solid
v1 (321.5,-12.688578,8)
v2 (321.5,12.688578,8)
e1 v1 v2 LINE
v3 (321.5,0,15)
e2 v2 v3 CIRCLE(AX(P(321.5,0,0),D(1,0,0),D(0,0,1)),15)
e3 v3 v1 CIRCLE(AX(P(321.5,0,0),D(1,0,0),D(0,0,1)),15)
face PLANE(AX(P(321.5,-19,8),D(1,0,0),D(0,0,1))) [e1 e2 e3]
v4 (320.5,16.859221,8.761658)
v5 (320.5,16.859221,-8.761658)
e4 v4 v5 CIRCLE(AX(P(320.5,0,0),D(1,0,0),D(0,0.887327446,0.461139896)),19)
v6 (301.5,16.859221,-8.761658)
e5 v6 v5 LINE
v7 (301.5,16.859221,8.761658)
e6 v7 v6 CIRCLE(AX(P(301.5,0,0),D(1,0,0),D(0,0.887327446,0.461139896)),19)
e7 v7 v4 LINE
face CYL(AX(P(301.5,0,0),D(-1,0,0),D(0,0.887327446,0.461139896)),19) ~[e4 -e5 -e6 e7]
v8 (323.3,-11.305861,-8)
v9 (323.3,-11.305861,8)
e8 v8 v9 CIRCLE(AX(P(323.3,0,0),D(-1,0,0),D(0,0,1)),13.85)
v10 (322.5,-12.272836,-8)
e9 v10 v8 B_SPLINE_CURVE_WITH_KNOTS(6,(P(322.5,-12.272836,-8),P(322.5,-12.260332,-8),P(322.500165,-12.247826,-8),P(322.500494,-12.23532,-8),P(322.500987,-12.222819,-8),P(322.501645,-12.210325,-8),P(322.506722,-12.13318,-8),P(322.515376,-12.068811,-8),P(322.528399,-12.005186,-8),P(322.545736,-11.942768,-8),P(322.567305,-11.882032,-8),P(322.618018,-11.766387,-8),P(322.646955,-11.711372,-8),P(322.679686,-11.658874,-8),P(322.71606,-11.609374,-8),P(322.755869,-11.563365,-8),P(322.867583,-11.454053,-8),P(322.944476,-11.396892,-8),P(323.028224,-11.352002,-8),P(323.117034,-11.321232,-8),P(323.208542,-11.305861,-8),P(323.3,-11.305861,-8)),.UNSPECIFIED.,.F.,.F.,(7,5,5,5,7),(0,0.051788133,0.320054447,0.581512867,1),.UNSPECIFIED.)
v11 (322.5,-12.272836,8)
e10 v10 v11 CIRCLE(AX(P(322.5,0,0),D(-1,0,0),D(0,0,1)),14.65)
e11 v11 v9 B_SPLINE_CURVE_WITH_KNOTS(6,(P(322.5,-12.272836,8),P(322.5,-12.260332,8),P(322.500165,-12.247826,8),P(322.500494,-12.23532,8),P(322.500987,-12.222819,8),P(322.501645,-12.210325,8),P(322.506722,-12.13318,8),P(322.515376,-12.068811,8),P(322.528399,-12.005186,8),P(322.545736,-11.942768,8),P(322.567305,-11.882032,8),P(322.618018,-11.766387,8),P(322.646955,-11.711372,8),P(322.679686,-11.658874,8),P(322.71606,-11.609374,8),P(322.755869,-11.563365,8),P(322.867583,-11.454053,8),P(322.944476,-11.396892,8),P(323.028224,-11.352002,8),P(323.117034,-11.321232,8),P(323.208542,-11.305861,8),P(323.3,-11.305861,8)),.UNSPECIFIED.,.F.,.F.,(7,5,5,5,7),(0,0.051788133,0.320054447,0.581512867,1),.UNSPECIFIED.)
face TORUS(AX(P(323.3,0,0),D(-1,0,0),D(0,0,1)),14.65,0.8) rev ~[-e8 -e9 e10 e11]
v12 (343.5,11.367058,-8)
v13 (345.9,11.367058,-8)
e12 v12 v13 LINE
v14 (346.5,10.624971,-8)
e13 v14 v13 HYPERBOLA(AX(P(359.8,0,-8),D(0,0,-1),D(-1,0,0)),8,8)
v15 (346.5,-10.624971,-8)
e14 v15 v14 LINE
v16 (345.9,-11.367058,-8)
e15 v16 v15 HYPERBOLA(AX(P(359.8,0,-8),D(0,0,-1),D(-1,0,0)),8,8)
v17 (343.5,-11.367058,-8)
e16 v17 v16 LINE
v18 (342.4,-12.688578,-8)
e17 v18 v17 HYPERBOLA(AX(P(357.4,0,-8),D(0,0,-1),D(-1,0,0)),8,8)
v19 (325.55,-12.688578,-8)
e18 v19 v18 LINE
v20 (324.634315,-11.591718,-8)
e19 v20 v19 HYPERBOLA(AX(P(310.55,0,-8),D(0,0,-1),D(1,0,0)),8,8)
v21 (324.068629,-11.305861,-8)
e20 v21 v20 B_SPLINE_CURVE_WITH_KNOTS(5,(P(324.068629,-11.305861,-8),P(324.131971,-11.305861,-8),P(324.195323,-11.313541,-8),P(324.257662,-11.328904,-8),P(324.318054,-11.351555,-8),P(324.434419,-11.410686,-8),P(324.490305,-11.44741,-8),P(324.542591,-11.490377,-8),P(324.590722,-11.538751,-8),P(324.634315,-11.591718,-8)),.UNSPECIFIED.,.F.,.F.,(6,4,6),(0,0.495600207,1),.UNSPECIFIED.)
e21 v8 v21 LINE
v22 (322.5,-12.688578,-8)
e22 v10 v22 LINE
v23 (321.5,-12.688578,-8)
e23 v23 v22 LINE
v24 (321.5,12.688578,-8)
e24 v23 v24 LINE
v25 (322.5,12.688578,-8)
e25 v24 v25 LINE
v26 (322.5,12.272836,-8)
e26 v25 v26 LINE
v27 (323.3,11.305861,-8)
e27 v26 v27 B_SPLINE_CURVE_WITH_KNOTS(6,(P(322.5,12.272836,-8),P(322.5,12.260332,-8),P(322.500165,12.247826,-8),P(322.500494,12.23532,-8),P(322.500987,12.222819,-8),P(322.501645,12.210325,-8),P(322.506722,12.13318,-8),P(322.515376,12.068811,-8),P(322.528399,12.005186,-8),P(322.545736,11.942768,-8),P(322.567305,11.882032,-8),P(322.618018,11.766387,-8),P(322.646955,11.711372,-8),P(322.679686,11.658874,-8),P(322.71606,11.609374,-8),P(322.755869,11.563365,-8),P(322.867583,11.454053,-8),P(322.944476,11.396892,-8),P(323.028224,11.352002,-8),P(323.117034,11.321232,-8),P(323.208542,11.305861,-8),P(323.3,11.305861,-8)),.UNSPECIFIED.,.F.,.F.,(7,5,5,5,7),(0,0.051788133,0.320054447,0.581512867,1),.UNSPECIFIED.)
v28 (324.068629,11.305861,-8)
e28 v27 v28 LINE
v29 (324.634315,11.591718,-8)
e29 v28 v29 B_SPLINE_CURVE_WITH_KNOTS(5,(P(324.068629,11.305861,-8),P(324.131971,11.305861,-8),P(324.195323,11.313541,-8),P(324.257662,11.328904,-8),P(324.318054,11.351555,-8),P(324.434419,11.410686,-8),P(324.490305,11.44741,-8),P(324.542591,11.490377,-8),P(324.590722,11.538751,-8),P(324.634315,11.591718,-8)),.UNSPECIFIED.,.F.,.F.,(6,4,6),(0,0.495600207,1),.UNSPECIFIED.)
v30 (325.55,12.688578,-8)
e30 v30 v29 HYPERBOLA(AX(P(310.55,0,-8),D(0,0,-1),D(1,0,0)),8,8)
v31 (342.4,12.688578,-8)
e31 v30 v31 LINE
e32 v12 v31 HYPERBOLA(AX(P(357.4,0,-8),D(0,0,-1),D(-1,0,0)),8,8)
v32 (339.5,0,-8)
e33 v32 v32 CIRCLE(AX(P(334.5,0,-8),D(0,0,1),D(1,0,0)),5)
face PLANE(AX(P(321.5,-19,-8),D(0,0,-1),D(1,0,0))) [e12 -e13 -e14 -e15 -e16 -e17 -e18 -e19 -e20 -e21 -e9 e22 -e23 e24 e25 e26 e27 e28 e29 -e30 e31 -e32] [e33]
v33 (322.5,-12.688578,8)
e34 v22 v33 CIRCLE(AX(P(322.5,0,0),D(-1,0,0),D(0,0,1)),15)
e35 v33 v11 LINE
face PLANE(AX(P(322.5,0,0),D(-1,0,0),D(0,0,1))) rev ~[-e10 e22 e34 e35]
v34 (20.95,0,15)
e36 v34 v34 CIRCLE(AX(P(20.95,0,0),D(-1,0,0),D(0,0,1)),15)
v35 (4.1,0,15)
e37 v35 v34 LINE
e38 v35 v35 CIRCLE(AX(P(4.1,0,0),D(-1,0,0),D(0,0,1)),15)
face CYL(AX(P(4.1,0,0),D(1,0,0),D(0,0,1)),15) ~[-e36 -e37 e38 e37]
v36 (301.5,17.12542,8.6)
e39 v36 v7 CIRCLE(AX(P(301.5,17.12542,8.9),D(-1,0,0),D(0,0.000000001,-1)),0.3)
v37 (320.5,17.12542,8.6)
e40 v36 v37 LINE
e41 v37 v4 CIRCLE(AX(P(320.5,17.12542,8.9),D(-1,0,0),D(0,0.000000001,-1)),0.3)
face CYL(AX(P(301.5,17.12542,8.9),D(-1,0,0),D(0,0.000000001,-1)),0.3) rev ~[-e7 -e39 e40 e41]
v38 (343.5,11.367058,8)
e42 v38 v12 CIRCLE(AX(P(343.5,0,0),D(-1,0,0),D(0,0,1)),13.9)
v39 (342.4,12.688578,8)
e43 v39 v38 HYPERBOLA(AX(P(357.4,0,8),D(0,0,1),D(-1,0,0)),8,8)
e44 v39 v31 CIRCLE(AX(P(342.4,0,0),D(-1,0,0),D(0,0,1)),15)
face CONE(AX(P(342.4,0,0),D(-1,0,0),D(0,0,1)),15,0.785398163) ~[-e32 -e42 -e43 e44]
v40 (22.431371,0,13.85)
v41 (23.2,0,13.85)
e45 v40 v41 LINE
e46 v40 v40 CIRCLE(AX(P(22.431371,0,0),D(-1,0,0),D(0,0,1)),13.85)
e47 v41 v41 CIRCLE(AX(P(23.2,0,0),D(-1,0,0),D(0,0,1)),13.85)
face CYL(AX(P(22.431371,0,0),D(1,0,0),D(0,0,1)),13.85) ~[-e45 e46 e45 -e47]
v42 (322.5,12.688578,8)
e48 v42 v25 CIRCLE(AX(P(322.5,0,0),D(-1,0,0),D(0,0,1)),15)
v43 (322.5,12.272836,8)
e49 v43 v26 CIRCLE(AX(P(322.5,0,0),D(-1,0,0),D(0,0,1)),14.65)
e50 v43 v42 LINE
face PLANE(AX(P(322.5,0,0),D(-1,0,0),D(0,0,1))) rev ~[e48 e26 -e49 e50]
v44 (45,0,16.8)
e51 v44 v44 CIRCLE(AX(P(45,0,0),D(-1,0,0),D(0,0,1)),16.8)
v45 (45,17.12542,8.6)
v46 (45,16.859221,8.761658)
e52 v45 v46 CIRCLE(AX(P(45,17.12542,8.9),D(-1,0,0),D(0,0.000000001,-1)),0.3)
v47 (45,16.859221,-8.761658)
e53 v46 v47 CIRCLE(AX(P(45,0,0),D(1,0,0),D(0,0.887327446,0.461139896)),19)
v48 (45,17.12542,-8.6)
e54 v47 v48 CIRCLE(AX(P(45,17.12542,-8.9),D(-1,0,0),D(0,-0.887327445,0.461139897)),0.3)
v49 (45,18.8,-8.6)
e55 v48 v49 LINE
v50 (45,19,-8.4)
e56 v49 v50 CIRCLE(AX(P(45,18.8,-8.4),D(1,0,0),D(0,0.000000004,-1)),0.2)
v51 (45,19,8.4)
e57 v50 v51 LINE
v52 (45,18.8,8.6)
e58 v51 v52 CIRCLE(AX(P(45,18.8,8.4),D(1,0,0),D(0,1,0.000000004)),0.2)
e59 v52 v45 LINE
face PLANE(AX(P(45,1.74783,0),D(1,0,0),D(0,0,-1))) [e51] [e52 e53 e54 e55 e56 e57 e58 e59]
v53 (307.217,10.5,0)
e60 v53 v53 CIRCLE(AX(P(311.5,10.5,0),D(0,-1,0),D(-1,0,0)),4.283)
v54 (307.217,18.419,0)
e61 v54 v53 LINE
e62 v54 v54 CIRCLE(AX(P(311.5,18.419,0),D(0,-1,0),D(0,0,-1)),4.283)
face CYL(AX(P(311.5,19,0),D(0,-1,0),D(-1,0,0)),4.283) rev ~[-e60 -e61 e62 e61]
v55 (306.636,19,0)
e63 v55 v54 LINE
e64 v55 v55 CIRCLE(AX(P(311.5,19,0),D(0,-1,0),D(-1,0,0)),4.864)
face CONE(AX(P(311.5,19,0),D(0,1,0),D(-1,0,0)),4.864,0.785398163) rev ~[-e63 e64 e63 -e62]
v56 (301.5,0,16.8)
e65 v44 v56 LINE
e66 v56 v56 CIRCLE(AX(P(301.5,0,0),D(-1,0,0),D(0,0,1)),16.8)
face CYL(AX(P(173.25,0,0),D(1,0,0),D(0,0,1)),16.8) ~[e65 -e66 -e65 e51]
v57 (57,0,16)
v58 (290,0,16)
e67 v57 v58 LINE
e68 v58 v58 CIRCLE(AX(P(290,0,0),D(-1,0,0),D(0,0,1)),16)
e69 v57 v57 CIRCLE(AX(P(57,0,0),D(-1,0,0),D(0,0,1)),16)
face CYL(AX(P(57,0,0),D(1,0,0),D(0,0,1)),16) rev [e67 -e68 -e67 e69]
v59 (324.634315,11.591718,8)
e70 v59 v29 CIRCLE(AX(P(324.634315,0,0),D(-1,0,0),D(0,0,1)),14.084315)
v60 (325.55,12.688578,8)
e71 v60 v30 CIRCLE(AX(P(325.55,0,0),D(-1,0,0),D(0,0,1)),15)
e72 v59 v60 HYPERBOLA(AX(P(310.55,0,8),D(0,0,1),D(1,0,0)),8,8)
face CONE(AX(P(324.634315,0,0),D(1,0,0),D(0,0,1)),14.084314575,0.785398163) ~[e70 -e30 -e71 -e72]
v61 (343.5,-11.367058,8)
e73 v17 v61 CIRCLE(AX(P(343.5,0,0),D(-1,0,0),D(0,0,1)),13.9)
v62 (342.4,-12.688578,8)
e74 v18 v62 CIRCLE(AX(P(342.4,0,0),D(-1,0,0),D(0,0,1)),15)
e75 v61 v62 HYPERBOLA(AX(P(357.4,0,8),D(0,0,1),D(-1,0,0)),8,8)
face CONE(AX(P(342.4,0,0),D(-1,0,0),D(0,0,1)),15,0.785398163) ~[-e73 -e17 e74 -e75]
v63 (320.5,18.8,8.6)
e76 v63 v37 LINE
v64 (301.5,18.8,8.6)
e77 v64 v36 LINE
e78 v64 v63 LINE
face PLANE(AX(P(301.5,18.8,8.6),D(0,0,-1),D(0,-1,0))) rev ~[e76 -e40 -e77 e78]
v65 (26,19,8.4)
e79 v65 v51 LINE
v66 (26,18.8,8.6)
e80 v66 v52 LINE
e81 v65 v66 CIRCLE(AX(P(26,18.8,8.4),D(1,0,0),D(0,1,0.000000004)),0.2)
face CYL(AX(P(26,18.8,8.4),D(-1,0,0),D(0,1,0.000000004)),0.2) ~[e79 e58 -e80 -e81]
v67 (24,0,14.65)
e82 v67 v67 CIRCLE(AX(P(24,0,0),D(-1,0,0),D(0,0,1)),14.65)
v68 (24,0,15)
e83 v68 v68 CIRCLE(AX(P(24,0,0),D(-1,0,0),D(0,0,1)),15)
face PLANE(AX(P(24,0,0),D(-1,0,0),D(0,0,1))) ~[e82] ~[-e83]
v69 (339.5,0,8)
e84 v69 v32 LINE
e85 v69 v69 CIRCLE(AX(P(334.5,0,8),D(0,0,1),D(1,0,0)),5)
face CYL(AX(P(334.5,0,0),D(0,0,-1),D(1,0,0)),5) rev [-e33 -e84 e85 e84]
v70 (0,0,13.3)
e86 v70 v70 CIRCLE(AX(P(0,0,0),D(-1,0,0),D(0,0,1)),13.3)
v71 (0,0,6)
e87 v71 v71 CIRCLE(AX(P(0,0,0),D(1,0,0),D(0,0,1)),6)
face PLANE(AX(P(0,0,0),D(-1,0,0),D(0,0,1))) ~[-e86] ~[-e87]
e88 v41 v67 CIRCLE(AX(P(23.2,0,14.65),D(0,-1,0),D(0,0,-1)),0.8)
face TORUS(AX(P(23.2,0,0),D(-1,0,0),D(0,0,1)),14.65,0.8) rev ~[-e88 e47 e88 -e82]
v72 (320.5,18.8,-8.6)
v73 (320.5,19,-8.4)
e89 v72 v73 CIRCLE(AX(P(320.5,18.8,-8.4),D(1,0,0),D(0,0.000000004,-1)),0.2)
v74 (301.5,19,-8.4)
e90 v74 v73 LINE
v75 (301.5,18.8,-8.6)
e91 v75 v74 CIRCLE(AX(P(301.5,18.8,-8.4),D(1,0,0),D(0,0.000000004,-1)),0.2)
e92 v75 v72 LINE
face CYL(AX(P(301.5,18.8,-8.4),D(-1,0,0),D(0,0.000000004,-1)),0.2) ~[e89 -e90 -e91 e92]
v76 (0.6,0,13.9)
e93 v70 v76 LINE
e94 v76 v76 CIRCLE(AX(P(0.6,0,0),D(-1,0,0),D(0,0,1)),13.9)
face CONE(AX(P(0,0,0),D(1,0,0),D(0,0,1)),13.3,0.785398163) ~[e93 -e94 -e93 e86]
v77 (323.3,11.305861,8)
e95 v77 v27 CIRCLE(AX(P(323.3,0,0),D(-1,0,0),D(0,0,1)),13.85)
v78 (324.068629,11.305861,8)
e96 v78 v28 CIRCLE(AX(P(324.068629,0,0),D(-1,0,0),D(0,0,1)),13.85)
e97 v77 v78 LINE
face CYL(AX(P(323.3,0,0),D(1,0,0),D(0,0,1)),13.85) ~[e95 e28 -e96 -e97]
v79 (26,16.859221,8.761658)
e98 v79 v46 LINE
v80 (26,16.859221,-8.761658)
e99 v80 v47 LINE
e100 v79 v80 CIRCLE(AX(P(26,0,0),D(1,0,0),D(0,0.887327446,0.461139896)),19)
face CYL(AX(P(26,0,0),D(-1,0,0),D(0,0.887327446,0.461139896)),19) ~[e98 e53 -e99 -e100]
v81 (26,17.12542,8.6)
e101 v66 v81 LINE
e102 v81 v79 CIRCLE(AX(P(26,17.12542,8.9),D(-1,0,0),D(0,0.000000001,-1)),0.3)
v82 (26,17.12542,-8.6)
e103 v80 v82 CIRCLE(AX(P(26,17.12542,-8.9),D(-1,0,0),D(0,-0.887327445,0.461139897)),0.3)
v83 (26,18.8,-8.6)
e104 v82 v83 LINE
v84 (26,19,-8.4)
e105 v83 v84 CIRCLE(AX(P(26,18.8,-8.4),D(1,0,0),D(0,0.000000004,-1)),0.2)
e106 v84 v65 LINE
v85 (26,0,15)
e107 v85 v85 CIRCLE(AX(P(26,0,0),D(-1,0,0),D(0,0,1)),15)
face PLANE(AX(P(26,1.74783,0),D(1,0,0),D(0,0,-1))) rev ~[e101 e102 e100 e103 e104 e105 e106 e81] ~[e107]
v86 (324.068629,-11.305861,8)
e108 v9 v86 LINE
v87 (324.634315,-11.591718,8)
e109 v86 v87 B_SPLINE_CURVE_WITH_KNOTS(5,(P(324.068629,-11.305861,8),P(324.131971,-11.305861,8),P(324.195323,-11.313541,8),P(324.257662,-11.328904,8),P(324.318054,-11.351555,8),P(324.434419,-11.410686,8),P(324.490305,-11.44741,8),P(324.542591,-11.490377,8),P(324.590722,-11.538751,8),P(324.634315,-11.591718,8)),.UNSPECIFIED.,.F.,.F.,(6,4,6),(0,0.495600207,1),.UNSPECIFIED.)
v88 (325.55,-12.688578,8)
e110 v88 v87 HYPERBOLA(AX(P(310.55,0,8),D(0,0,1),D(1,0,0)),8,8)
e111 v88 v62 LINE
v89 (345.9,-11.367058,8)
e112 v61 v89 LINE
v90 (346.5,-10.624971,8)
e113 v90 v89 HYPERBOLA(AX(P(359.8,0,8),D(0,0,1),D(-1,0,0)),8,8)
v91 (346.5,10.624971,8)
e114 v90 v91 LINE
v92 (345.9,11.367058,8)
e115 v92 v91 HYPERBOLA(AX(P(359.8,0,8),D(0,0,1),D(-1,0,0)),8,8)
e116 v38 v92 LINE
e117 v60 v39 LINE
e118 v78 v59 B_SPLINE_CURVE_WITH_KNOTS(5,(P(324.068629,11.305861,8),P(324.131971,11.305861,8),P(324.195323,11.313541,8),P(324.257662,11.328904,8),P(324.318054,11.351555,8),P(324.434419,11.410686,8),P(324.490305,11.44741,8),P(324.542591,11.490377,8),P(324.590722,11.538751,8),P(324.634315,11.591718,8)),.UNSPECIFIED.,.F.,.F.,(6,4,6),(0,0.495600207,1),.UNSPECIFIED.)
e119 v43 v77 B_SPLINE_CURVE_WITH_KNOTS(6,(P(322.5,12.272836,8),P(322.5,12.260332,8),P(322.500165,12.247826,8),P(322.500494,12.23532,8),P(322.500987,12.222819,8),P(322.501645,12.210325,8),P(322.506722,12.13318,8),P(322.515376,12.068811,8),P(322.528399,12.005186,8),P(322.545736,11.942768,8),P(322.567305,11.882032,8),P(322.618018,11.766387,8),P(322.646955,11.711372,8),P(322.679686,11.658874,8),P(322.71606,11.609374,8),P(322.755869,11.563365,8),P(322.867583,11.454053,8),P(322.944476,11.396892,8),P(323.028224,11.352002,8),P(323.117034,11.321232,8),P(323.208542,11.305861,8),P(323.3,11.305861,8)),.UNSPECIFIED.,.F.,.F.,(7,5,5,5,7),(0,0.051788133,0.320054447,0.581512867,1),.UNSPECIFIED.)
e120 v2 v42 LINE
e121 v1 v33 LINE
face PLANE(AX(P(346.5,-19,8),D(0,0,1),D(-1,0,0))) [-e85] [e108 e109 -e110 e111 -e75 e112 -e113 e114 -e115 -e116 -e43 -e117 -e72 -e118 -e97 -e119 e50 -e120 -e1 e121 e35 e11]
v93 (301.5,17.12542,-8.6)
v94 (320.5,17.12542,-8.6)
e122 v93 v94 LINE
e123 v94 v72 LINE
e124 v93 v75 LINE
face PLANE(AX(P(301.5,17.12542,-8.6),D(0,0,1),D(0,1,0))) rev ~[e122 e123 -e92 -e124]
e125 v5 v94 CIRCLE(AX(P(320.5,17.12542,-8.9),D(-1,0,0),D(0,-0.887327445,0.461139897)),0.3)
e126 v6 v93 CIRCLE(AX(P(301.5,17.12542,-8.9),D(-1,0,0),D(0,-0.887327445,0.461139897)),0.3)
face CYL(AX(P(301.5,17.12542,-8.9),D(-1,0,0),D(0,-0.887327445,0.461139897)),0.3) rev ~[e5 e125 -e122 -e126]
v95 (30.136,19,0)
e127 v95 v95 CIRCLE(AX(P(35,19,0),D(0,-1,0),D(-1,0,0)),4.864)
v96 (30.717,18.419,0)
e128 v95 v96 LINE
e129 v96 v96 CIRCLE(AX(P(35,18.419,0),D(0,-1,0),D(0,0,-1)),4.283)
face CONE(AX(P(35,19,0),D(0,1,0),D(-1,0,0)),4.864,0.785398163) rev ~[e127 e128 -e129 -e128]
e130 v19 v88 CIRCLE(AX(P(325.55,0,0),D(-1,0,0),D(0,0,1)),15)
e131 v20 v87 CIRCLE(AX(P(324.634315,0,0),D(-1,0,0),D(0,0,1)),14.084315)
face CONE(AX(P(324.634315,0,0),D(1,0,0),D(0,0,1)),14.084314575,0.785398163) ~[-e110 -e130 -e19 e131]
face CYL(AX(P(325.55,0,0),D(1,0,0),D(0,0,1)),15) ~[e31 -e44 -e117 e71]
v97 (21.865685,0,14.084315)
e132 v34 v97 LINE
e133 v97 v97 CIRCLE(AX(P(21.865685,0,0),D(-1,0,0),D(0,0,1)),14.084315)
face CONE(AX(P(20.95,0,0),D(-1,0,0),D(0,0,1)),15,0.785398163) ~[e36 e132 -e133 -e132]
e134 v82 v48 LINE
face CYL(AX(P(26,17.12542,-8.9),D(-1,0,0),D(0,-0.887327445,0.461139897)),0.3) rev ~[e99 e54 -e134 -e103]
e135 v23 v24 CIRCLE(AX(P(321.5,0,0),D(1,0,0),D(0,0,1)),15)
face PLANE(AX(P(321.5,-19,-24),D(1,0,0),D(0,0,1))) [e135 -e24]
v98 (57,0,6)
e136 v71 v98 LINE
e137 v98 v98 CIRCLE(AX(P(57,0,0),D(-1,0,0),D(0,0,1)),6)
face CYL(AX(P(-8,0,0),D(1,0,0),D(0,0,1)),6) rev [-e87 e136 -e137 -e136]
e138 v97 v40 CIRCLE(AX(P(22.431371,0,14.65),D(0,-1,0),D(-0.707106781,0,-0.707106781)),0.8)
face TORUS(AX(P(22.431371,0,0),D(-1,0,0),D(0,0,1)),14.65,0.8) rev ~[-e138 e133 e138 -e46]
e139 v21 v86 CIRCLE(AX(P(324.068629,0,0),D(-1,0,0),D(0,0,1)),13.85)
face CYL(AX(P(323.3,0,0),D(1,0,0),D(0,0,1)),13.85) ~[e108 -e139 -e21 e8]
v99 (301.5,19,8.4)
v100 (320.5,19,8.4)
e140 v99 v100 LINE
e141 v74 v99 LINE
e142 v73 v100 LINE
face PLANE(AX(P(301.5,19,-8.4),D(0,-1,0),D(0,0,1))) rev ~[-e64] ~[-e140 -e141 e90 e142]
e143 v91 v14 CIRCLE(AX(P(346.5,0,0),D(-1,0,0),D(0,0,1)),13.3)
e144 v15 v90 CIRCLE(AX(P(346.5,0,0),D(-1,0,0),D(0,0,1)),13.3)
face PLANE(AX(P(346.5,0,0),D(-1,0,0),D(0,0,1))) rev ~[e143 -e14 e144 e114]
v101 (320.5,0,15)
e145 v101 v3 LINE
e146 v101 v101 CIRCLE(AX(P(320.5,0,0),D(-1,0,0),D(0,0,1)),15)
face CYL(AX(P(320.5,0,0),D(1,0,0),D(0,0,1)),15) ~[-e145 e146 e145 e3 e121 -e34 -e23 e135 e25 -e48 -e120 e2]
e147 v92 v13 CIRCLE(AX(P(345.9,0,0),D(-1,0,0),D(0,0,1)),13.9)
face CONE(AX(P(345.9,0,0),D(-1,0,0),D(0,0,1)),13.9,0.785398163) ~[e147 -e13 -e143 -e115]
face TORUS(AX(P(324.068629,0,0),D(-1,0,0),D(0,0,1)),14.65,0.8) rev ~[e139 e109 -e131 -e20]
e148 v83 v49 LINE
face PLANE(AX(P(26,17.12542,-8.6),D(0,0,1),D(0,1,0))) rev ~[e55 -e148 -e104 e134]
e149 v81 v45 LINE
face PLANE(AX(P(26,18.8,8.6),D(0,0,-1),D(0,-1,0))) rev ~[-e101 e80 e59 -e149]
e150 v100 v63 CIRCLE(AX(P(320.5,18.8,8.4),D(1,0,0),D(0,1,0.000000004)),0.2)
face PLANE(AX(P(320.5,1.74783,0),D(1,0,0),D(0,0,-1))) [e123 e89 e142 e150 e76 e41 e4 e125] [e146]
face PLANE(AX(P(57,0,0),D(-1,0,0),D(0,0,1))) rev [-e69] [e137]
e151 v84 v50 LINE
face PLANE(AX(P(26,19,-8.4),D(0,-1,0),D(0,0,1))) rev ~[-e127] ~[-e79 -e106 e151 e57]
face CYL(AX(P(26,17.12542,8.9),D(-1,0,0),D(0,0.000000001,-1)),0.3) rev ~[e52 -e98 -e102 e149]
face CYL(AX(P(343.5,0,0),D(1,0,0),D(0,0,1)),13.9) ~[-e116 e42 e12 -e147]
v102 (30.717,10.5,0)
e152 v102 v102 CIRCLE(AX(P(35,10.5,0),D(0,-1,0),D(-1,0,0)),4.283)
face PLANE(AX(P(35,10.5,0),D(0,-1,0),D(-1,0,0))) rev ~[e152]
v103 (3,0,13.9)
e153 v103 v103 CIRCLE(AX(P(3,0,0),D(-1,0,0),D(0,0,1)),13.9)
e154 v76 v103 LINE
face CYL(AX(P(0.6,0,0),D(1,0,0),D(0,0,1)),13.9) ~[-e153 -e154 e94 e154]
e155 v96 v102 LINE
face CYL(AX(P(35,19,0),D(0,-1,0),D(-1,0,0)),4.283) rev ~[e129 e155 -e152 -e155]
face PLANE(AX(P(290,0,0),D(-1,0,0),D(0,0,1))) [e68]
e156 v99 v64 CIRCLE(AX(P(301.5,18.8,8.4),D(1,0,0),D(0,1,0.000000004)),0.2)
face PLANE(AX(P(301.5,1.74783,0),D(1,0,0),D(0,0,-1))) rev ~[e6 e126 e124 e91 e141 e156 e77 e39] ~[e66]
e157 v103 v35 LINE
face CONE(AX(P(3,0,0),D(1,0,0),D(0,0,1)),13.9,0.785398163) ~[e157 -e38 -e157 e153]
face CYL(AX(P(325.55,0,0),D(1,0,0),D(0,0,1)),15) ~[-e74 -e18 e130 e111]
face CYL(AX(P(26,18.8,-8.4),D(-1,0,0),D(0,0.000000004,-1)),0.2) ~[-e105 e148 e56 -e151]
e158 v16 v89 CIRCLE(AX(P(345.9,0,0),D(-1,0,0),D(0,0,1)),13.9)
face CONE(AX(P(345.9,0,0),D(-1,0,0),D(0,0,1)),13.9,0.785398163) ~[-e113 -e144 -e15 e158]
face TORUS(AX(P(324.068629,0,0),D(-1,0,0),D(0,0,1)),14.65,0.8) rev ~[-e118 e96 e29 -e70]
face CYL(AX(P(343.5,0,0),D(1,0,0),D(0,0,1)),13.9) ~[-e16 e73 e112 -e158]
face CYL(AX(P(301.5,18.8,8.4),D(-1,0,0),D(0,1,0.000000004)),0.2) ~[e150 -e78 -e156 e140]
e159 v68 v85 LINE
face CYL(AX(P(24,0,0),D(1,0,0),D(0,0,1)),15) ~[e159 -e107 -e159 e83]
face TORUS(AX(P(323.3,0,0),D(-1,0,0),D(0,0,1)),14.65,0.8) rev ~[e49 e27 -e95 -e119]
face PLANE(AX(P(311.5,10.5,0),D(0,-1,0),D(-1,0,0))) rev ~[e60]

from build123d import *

# Parameters (mm, degrees)
BOSS_EXTRUDE1_DEPTH     = 19
SKETCH3_W               = 256.5
SKETCH3_H               = 16.8
BOSS_EXTRUDE2_DEPTH     = 19
CUT_EXTRUDE1_DEPTH      = 19
CUT_EXTRUDE1_DEPTH_BACK = 19
SKETCH7_W               = 16
SKETCH7_H               = 5
HOLE1_D                 = 8.566
HOLE1_DEPTH             = 8.5
HOLE1_CSINK_D           = 9.728
HOLE1_CSINK_ANGLE       = 90
HOLE2_D                 = 8.566
HOLE2_DEPTH             = 8.5
HOLE2_CSINK_D           = 9.728
HOLE2_CSINK_ANGLE       = 90


with BuildPart() as part:
    # Sketch1 → Revolve1 (revolve)
    with BuildSketch(Plane.XY):
        with BuildLine():
            Line((0, 0), (0, 13.3))
            Line((0, 13.3), (0.6, 13.9))
            Line((0.6, 13.9), (3, 13.9))
            Line((3, 13.9), (4.1, 15))
            Line((4.1, 15), (20.95, 15))
            Line((20.95, 15), (21.865685425, 14.084314575))
            ThreePointArc((21.865685425, 14.084314575), (22.125224104, 13.910896374), (22.43137085, 13.85))
            Line((22.43137085, 13.85), (23.2, 13.85))
            ThreePointArc((23.2, 13.85), (23.765685425, 14.084314575), (24, 14.65))
            Line((24, 14.65), (24, 15))
            Line((24, 15), (26, 15))
            Line((26, 15), (26, 0))
            Line((26, 0), (0, 0))
        make_face()
    revolve(axis=Axis((26, 0, 0), (-1, 0, 0)))

    # Sketch2 → Boss-Extrude1 (add)
    with BuildSketch(Plane(origin=(26, 0, 0), x_dir=(0, 0, -1), z_dir=(1, 0, 0))):
        with BuildLine():
            Line((8.6, 17.125419703), (8.6, 18.8))
            ThreePointArc((8.6, 18.8), (8.541421356, 18.941421356), (8.4, 19))
            Line((8.4, 19), (-8.4, 19))
            ThreePointArc((-8.4, 19), (-8.541421356, 18.941421356), (-8.6, 18.8))
            Line((-8.6, 18.8), (-8.6, 17.125419703))
            ThreePointArc((-8.6, 17.125419703), (-8.643579846, 16.969699747), (-8.761658031, 16.859221469))
            ThreePointArc((-8.761658031, 16.859221469), (0, -19), (8.761658031, 16.859221469))
            ThreePointArc((8.761658031, 16.859221469), (8.643579846, 16.969699747), (8.6, 17.125419703))
        make_face()
    extrude(amount=BOSS_EXTRUDE1_DEPTH)

    # Sketch3 → Revolve2 (revolve)
    with BuildSketch(Plane.XY):
        with Locations((173.25, 8.4)):
            Rectangle(SKETCH3_W, SKETCH3_H)
    revolve(axis=Axis((301.5, 0, 0), (-1, 0, 0)))

    # Sketch4 → Boss-Extrude2 (add)
    with BuildSketch(Plane(origin=(301.5, 0, 0), x_dir=(0, 0, -1), z_dir=(1, 0, 0))):
        with BuildLine():
            Line((8.6, 17.125419703), (8.6, 18.8))
            ThreePointArc((8.6, 18.8), (8.541421356, 18.941421356), (8.4, 19))
            Line((8.4, 19), (-8.4, 19))
            ThreePointArc((-8.4, 19), (-8.541421356, 18.941421356), (-8.6, 18.8))
            Line((-8.6, 18.8), (-8.6, 17.125419703))
            ThreePointArc((-8.6, 17.125419703), (-8.643579846, 16.969699747), (-8.761658031, 16.859221469))
            ThreePointArc((-8.761658031, 16.859221469), (0, -19), (8.761658031, 16.859221469))
            ThreePointArc((8.761658031, 16.859221469), (8.643579846, 16.969699747), (8.6, 17.125419703))
        make_face()
    extrude(amount=BOSS_EXTRUDE2_DEPTH)

    # Sketch5 → Revolve3 (revolve)
    with BuildSketch(Plane.XY):
        with BuildLine():
            Line((320.5, 0), (320.5, 15))
            Line((320.5, 15), (322.5, 15))
            Line((322.5, 15), (322.5, 14.65))
            ThreePointArc((322.5, 14.65), (322.734314575, 14.084314575), (323.3, 13.85))
            Line((323.3, 13.85), (324.06862915, 13.85))
            ThreePointArc((324.06862915, 13.85), (324.374775896, 13.910896374), (324.634314575, 14.084314575))
            Line((324.634314575, 14.084314575), (325.55, 15))
            Line((325.55, 15), (342.4, 15))
            Line((342.4, 15), (343.5, 13.9))
            Line((343.5, 13.9), (345.9, 13.9))
            Line((345.9, 13.9), (346.5, 13.3))
            Line((346.5, 13.3), (346.5, 0))
            Line((346.5, 0), (320.5, 0))
        make_face()
    revolve(axis=Axis((346.5, 0, 0), (-1, 0, 0)))

    # Sketch6 → Cut-Extrude1 (cut, two sides: drawn at the far end of the back side and taken through both)
    with BuildSketch(Plane(origin=(0, 0, 0), x_dir=(1, 0, 0), z_dir=(0, 1, 0)).offset(-CUT_EXTRUDE1_DEPTH_BACK)):
        Polygon((321.5, 24), (321.5, 8), (346.5, 8), (346.5, -8), (321.5, -8), (321.5, -24), (362.5, -24), (362.5, 24), align=None)
    extrude(amount=CUT_EXTRUDE1_DEPTH + CUT_EXTRUDE1_DEPTH_BACK, mode=Mode.SUBTRACT)

    # Sketch7 → Cut-Revolve1 (revolve, cut)
    with BuildSketch(Plane(origin=(334.5, 0, 0), x_dir=(0, 0, -1), z_dir=(1, 0, 0))):
        with Locations((0, 2.5)):
            Rectangle(SKETCH7_W, SKETCH7_H)
    revolve(axis=Axis((334.5, 0, -8), (0, 0, 1)), mode=Mode.SUBTRACT)

    # Hole1
    with Locations(Plane(origin=(0, 19, 0), x_dir=(1, 0, 0), z_dir=(0, 1, 0))):
        with Locations((35, 0)):
            CounterSinkHole(HOLE1_D / 2, HOLE1_CSINK_D / 2, depth=HOLE1_DEPTH, counter_sink_angle=HOLE1_CSINK_ANGLE)

    # Hole2
    with Locations(Plane(origin=(0, 19, 0), x_dir=(1, 0, 0), z_dir=(0, 1, 0))):
        with Locations((311.5, 0)):
            CounterSinkHole(HOLE2_D / 2, HOLE2_CSINK_D / 2, depth=HOLE2_DEPTH, counter_sink_angle=HOLE2_CSINK_ANGLE)

    # Sketch12 → Cut-Revolve2 (revolve, cut)
    with BuildSketch(Plane.XY):
        Polygon((-8, 0), (-8, 6), (57, 6), (57, 16), (290, 16), (290, 0), align=None)
    revolve(axis=Axis((290, 0, 0), (-1, 0, 0)), mode=Mode.SUBTRACT)


solid = part.part
